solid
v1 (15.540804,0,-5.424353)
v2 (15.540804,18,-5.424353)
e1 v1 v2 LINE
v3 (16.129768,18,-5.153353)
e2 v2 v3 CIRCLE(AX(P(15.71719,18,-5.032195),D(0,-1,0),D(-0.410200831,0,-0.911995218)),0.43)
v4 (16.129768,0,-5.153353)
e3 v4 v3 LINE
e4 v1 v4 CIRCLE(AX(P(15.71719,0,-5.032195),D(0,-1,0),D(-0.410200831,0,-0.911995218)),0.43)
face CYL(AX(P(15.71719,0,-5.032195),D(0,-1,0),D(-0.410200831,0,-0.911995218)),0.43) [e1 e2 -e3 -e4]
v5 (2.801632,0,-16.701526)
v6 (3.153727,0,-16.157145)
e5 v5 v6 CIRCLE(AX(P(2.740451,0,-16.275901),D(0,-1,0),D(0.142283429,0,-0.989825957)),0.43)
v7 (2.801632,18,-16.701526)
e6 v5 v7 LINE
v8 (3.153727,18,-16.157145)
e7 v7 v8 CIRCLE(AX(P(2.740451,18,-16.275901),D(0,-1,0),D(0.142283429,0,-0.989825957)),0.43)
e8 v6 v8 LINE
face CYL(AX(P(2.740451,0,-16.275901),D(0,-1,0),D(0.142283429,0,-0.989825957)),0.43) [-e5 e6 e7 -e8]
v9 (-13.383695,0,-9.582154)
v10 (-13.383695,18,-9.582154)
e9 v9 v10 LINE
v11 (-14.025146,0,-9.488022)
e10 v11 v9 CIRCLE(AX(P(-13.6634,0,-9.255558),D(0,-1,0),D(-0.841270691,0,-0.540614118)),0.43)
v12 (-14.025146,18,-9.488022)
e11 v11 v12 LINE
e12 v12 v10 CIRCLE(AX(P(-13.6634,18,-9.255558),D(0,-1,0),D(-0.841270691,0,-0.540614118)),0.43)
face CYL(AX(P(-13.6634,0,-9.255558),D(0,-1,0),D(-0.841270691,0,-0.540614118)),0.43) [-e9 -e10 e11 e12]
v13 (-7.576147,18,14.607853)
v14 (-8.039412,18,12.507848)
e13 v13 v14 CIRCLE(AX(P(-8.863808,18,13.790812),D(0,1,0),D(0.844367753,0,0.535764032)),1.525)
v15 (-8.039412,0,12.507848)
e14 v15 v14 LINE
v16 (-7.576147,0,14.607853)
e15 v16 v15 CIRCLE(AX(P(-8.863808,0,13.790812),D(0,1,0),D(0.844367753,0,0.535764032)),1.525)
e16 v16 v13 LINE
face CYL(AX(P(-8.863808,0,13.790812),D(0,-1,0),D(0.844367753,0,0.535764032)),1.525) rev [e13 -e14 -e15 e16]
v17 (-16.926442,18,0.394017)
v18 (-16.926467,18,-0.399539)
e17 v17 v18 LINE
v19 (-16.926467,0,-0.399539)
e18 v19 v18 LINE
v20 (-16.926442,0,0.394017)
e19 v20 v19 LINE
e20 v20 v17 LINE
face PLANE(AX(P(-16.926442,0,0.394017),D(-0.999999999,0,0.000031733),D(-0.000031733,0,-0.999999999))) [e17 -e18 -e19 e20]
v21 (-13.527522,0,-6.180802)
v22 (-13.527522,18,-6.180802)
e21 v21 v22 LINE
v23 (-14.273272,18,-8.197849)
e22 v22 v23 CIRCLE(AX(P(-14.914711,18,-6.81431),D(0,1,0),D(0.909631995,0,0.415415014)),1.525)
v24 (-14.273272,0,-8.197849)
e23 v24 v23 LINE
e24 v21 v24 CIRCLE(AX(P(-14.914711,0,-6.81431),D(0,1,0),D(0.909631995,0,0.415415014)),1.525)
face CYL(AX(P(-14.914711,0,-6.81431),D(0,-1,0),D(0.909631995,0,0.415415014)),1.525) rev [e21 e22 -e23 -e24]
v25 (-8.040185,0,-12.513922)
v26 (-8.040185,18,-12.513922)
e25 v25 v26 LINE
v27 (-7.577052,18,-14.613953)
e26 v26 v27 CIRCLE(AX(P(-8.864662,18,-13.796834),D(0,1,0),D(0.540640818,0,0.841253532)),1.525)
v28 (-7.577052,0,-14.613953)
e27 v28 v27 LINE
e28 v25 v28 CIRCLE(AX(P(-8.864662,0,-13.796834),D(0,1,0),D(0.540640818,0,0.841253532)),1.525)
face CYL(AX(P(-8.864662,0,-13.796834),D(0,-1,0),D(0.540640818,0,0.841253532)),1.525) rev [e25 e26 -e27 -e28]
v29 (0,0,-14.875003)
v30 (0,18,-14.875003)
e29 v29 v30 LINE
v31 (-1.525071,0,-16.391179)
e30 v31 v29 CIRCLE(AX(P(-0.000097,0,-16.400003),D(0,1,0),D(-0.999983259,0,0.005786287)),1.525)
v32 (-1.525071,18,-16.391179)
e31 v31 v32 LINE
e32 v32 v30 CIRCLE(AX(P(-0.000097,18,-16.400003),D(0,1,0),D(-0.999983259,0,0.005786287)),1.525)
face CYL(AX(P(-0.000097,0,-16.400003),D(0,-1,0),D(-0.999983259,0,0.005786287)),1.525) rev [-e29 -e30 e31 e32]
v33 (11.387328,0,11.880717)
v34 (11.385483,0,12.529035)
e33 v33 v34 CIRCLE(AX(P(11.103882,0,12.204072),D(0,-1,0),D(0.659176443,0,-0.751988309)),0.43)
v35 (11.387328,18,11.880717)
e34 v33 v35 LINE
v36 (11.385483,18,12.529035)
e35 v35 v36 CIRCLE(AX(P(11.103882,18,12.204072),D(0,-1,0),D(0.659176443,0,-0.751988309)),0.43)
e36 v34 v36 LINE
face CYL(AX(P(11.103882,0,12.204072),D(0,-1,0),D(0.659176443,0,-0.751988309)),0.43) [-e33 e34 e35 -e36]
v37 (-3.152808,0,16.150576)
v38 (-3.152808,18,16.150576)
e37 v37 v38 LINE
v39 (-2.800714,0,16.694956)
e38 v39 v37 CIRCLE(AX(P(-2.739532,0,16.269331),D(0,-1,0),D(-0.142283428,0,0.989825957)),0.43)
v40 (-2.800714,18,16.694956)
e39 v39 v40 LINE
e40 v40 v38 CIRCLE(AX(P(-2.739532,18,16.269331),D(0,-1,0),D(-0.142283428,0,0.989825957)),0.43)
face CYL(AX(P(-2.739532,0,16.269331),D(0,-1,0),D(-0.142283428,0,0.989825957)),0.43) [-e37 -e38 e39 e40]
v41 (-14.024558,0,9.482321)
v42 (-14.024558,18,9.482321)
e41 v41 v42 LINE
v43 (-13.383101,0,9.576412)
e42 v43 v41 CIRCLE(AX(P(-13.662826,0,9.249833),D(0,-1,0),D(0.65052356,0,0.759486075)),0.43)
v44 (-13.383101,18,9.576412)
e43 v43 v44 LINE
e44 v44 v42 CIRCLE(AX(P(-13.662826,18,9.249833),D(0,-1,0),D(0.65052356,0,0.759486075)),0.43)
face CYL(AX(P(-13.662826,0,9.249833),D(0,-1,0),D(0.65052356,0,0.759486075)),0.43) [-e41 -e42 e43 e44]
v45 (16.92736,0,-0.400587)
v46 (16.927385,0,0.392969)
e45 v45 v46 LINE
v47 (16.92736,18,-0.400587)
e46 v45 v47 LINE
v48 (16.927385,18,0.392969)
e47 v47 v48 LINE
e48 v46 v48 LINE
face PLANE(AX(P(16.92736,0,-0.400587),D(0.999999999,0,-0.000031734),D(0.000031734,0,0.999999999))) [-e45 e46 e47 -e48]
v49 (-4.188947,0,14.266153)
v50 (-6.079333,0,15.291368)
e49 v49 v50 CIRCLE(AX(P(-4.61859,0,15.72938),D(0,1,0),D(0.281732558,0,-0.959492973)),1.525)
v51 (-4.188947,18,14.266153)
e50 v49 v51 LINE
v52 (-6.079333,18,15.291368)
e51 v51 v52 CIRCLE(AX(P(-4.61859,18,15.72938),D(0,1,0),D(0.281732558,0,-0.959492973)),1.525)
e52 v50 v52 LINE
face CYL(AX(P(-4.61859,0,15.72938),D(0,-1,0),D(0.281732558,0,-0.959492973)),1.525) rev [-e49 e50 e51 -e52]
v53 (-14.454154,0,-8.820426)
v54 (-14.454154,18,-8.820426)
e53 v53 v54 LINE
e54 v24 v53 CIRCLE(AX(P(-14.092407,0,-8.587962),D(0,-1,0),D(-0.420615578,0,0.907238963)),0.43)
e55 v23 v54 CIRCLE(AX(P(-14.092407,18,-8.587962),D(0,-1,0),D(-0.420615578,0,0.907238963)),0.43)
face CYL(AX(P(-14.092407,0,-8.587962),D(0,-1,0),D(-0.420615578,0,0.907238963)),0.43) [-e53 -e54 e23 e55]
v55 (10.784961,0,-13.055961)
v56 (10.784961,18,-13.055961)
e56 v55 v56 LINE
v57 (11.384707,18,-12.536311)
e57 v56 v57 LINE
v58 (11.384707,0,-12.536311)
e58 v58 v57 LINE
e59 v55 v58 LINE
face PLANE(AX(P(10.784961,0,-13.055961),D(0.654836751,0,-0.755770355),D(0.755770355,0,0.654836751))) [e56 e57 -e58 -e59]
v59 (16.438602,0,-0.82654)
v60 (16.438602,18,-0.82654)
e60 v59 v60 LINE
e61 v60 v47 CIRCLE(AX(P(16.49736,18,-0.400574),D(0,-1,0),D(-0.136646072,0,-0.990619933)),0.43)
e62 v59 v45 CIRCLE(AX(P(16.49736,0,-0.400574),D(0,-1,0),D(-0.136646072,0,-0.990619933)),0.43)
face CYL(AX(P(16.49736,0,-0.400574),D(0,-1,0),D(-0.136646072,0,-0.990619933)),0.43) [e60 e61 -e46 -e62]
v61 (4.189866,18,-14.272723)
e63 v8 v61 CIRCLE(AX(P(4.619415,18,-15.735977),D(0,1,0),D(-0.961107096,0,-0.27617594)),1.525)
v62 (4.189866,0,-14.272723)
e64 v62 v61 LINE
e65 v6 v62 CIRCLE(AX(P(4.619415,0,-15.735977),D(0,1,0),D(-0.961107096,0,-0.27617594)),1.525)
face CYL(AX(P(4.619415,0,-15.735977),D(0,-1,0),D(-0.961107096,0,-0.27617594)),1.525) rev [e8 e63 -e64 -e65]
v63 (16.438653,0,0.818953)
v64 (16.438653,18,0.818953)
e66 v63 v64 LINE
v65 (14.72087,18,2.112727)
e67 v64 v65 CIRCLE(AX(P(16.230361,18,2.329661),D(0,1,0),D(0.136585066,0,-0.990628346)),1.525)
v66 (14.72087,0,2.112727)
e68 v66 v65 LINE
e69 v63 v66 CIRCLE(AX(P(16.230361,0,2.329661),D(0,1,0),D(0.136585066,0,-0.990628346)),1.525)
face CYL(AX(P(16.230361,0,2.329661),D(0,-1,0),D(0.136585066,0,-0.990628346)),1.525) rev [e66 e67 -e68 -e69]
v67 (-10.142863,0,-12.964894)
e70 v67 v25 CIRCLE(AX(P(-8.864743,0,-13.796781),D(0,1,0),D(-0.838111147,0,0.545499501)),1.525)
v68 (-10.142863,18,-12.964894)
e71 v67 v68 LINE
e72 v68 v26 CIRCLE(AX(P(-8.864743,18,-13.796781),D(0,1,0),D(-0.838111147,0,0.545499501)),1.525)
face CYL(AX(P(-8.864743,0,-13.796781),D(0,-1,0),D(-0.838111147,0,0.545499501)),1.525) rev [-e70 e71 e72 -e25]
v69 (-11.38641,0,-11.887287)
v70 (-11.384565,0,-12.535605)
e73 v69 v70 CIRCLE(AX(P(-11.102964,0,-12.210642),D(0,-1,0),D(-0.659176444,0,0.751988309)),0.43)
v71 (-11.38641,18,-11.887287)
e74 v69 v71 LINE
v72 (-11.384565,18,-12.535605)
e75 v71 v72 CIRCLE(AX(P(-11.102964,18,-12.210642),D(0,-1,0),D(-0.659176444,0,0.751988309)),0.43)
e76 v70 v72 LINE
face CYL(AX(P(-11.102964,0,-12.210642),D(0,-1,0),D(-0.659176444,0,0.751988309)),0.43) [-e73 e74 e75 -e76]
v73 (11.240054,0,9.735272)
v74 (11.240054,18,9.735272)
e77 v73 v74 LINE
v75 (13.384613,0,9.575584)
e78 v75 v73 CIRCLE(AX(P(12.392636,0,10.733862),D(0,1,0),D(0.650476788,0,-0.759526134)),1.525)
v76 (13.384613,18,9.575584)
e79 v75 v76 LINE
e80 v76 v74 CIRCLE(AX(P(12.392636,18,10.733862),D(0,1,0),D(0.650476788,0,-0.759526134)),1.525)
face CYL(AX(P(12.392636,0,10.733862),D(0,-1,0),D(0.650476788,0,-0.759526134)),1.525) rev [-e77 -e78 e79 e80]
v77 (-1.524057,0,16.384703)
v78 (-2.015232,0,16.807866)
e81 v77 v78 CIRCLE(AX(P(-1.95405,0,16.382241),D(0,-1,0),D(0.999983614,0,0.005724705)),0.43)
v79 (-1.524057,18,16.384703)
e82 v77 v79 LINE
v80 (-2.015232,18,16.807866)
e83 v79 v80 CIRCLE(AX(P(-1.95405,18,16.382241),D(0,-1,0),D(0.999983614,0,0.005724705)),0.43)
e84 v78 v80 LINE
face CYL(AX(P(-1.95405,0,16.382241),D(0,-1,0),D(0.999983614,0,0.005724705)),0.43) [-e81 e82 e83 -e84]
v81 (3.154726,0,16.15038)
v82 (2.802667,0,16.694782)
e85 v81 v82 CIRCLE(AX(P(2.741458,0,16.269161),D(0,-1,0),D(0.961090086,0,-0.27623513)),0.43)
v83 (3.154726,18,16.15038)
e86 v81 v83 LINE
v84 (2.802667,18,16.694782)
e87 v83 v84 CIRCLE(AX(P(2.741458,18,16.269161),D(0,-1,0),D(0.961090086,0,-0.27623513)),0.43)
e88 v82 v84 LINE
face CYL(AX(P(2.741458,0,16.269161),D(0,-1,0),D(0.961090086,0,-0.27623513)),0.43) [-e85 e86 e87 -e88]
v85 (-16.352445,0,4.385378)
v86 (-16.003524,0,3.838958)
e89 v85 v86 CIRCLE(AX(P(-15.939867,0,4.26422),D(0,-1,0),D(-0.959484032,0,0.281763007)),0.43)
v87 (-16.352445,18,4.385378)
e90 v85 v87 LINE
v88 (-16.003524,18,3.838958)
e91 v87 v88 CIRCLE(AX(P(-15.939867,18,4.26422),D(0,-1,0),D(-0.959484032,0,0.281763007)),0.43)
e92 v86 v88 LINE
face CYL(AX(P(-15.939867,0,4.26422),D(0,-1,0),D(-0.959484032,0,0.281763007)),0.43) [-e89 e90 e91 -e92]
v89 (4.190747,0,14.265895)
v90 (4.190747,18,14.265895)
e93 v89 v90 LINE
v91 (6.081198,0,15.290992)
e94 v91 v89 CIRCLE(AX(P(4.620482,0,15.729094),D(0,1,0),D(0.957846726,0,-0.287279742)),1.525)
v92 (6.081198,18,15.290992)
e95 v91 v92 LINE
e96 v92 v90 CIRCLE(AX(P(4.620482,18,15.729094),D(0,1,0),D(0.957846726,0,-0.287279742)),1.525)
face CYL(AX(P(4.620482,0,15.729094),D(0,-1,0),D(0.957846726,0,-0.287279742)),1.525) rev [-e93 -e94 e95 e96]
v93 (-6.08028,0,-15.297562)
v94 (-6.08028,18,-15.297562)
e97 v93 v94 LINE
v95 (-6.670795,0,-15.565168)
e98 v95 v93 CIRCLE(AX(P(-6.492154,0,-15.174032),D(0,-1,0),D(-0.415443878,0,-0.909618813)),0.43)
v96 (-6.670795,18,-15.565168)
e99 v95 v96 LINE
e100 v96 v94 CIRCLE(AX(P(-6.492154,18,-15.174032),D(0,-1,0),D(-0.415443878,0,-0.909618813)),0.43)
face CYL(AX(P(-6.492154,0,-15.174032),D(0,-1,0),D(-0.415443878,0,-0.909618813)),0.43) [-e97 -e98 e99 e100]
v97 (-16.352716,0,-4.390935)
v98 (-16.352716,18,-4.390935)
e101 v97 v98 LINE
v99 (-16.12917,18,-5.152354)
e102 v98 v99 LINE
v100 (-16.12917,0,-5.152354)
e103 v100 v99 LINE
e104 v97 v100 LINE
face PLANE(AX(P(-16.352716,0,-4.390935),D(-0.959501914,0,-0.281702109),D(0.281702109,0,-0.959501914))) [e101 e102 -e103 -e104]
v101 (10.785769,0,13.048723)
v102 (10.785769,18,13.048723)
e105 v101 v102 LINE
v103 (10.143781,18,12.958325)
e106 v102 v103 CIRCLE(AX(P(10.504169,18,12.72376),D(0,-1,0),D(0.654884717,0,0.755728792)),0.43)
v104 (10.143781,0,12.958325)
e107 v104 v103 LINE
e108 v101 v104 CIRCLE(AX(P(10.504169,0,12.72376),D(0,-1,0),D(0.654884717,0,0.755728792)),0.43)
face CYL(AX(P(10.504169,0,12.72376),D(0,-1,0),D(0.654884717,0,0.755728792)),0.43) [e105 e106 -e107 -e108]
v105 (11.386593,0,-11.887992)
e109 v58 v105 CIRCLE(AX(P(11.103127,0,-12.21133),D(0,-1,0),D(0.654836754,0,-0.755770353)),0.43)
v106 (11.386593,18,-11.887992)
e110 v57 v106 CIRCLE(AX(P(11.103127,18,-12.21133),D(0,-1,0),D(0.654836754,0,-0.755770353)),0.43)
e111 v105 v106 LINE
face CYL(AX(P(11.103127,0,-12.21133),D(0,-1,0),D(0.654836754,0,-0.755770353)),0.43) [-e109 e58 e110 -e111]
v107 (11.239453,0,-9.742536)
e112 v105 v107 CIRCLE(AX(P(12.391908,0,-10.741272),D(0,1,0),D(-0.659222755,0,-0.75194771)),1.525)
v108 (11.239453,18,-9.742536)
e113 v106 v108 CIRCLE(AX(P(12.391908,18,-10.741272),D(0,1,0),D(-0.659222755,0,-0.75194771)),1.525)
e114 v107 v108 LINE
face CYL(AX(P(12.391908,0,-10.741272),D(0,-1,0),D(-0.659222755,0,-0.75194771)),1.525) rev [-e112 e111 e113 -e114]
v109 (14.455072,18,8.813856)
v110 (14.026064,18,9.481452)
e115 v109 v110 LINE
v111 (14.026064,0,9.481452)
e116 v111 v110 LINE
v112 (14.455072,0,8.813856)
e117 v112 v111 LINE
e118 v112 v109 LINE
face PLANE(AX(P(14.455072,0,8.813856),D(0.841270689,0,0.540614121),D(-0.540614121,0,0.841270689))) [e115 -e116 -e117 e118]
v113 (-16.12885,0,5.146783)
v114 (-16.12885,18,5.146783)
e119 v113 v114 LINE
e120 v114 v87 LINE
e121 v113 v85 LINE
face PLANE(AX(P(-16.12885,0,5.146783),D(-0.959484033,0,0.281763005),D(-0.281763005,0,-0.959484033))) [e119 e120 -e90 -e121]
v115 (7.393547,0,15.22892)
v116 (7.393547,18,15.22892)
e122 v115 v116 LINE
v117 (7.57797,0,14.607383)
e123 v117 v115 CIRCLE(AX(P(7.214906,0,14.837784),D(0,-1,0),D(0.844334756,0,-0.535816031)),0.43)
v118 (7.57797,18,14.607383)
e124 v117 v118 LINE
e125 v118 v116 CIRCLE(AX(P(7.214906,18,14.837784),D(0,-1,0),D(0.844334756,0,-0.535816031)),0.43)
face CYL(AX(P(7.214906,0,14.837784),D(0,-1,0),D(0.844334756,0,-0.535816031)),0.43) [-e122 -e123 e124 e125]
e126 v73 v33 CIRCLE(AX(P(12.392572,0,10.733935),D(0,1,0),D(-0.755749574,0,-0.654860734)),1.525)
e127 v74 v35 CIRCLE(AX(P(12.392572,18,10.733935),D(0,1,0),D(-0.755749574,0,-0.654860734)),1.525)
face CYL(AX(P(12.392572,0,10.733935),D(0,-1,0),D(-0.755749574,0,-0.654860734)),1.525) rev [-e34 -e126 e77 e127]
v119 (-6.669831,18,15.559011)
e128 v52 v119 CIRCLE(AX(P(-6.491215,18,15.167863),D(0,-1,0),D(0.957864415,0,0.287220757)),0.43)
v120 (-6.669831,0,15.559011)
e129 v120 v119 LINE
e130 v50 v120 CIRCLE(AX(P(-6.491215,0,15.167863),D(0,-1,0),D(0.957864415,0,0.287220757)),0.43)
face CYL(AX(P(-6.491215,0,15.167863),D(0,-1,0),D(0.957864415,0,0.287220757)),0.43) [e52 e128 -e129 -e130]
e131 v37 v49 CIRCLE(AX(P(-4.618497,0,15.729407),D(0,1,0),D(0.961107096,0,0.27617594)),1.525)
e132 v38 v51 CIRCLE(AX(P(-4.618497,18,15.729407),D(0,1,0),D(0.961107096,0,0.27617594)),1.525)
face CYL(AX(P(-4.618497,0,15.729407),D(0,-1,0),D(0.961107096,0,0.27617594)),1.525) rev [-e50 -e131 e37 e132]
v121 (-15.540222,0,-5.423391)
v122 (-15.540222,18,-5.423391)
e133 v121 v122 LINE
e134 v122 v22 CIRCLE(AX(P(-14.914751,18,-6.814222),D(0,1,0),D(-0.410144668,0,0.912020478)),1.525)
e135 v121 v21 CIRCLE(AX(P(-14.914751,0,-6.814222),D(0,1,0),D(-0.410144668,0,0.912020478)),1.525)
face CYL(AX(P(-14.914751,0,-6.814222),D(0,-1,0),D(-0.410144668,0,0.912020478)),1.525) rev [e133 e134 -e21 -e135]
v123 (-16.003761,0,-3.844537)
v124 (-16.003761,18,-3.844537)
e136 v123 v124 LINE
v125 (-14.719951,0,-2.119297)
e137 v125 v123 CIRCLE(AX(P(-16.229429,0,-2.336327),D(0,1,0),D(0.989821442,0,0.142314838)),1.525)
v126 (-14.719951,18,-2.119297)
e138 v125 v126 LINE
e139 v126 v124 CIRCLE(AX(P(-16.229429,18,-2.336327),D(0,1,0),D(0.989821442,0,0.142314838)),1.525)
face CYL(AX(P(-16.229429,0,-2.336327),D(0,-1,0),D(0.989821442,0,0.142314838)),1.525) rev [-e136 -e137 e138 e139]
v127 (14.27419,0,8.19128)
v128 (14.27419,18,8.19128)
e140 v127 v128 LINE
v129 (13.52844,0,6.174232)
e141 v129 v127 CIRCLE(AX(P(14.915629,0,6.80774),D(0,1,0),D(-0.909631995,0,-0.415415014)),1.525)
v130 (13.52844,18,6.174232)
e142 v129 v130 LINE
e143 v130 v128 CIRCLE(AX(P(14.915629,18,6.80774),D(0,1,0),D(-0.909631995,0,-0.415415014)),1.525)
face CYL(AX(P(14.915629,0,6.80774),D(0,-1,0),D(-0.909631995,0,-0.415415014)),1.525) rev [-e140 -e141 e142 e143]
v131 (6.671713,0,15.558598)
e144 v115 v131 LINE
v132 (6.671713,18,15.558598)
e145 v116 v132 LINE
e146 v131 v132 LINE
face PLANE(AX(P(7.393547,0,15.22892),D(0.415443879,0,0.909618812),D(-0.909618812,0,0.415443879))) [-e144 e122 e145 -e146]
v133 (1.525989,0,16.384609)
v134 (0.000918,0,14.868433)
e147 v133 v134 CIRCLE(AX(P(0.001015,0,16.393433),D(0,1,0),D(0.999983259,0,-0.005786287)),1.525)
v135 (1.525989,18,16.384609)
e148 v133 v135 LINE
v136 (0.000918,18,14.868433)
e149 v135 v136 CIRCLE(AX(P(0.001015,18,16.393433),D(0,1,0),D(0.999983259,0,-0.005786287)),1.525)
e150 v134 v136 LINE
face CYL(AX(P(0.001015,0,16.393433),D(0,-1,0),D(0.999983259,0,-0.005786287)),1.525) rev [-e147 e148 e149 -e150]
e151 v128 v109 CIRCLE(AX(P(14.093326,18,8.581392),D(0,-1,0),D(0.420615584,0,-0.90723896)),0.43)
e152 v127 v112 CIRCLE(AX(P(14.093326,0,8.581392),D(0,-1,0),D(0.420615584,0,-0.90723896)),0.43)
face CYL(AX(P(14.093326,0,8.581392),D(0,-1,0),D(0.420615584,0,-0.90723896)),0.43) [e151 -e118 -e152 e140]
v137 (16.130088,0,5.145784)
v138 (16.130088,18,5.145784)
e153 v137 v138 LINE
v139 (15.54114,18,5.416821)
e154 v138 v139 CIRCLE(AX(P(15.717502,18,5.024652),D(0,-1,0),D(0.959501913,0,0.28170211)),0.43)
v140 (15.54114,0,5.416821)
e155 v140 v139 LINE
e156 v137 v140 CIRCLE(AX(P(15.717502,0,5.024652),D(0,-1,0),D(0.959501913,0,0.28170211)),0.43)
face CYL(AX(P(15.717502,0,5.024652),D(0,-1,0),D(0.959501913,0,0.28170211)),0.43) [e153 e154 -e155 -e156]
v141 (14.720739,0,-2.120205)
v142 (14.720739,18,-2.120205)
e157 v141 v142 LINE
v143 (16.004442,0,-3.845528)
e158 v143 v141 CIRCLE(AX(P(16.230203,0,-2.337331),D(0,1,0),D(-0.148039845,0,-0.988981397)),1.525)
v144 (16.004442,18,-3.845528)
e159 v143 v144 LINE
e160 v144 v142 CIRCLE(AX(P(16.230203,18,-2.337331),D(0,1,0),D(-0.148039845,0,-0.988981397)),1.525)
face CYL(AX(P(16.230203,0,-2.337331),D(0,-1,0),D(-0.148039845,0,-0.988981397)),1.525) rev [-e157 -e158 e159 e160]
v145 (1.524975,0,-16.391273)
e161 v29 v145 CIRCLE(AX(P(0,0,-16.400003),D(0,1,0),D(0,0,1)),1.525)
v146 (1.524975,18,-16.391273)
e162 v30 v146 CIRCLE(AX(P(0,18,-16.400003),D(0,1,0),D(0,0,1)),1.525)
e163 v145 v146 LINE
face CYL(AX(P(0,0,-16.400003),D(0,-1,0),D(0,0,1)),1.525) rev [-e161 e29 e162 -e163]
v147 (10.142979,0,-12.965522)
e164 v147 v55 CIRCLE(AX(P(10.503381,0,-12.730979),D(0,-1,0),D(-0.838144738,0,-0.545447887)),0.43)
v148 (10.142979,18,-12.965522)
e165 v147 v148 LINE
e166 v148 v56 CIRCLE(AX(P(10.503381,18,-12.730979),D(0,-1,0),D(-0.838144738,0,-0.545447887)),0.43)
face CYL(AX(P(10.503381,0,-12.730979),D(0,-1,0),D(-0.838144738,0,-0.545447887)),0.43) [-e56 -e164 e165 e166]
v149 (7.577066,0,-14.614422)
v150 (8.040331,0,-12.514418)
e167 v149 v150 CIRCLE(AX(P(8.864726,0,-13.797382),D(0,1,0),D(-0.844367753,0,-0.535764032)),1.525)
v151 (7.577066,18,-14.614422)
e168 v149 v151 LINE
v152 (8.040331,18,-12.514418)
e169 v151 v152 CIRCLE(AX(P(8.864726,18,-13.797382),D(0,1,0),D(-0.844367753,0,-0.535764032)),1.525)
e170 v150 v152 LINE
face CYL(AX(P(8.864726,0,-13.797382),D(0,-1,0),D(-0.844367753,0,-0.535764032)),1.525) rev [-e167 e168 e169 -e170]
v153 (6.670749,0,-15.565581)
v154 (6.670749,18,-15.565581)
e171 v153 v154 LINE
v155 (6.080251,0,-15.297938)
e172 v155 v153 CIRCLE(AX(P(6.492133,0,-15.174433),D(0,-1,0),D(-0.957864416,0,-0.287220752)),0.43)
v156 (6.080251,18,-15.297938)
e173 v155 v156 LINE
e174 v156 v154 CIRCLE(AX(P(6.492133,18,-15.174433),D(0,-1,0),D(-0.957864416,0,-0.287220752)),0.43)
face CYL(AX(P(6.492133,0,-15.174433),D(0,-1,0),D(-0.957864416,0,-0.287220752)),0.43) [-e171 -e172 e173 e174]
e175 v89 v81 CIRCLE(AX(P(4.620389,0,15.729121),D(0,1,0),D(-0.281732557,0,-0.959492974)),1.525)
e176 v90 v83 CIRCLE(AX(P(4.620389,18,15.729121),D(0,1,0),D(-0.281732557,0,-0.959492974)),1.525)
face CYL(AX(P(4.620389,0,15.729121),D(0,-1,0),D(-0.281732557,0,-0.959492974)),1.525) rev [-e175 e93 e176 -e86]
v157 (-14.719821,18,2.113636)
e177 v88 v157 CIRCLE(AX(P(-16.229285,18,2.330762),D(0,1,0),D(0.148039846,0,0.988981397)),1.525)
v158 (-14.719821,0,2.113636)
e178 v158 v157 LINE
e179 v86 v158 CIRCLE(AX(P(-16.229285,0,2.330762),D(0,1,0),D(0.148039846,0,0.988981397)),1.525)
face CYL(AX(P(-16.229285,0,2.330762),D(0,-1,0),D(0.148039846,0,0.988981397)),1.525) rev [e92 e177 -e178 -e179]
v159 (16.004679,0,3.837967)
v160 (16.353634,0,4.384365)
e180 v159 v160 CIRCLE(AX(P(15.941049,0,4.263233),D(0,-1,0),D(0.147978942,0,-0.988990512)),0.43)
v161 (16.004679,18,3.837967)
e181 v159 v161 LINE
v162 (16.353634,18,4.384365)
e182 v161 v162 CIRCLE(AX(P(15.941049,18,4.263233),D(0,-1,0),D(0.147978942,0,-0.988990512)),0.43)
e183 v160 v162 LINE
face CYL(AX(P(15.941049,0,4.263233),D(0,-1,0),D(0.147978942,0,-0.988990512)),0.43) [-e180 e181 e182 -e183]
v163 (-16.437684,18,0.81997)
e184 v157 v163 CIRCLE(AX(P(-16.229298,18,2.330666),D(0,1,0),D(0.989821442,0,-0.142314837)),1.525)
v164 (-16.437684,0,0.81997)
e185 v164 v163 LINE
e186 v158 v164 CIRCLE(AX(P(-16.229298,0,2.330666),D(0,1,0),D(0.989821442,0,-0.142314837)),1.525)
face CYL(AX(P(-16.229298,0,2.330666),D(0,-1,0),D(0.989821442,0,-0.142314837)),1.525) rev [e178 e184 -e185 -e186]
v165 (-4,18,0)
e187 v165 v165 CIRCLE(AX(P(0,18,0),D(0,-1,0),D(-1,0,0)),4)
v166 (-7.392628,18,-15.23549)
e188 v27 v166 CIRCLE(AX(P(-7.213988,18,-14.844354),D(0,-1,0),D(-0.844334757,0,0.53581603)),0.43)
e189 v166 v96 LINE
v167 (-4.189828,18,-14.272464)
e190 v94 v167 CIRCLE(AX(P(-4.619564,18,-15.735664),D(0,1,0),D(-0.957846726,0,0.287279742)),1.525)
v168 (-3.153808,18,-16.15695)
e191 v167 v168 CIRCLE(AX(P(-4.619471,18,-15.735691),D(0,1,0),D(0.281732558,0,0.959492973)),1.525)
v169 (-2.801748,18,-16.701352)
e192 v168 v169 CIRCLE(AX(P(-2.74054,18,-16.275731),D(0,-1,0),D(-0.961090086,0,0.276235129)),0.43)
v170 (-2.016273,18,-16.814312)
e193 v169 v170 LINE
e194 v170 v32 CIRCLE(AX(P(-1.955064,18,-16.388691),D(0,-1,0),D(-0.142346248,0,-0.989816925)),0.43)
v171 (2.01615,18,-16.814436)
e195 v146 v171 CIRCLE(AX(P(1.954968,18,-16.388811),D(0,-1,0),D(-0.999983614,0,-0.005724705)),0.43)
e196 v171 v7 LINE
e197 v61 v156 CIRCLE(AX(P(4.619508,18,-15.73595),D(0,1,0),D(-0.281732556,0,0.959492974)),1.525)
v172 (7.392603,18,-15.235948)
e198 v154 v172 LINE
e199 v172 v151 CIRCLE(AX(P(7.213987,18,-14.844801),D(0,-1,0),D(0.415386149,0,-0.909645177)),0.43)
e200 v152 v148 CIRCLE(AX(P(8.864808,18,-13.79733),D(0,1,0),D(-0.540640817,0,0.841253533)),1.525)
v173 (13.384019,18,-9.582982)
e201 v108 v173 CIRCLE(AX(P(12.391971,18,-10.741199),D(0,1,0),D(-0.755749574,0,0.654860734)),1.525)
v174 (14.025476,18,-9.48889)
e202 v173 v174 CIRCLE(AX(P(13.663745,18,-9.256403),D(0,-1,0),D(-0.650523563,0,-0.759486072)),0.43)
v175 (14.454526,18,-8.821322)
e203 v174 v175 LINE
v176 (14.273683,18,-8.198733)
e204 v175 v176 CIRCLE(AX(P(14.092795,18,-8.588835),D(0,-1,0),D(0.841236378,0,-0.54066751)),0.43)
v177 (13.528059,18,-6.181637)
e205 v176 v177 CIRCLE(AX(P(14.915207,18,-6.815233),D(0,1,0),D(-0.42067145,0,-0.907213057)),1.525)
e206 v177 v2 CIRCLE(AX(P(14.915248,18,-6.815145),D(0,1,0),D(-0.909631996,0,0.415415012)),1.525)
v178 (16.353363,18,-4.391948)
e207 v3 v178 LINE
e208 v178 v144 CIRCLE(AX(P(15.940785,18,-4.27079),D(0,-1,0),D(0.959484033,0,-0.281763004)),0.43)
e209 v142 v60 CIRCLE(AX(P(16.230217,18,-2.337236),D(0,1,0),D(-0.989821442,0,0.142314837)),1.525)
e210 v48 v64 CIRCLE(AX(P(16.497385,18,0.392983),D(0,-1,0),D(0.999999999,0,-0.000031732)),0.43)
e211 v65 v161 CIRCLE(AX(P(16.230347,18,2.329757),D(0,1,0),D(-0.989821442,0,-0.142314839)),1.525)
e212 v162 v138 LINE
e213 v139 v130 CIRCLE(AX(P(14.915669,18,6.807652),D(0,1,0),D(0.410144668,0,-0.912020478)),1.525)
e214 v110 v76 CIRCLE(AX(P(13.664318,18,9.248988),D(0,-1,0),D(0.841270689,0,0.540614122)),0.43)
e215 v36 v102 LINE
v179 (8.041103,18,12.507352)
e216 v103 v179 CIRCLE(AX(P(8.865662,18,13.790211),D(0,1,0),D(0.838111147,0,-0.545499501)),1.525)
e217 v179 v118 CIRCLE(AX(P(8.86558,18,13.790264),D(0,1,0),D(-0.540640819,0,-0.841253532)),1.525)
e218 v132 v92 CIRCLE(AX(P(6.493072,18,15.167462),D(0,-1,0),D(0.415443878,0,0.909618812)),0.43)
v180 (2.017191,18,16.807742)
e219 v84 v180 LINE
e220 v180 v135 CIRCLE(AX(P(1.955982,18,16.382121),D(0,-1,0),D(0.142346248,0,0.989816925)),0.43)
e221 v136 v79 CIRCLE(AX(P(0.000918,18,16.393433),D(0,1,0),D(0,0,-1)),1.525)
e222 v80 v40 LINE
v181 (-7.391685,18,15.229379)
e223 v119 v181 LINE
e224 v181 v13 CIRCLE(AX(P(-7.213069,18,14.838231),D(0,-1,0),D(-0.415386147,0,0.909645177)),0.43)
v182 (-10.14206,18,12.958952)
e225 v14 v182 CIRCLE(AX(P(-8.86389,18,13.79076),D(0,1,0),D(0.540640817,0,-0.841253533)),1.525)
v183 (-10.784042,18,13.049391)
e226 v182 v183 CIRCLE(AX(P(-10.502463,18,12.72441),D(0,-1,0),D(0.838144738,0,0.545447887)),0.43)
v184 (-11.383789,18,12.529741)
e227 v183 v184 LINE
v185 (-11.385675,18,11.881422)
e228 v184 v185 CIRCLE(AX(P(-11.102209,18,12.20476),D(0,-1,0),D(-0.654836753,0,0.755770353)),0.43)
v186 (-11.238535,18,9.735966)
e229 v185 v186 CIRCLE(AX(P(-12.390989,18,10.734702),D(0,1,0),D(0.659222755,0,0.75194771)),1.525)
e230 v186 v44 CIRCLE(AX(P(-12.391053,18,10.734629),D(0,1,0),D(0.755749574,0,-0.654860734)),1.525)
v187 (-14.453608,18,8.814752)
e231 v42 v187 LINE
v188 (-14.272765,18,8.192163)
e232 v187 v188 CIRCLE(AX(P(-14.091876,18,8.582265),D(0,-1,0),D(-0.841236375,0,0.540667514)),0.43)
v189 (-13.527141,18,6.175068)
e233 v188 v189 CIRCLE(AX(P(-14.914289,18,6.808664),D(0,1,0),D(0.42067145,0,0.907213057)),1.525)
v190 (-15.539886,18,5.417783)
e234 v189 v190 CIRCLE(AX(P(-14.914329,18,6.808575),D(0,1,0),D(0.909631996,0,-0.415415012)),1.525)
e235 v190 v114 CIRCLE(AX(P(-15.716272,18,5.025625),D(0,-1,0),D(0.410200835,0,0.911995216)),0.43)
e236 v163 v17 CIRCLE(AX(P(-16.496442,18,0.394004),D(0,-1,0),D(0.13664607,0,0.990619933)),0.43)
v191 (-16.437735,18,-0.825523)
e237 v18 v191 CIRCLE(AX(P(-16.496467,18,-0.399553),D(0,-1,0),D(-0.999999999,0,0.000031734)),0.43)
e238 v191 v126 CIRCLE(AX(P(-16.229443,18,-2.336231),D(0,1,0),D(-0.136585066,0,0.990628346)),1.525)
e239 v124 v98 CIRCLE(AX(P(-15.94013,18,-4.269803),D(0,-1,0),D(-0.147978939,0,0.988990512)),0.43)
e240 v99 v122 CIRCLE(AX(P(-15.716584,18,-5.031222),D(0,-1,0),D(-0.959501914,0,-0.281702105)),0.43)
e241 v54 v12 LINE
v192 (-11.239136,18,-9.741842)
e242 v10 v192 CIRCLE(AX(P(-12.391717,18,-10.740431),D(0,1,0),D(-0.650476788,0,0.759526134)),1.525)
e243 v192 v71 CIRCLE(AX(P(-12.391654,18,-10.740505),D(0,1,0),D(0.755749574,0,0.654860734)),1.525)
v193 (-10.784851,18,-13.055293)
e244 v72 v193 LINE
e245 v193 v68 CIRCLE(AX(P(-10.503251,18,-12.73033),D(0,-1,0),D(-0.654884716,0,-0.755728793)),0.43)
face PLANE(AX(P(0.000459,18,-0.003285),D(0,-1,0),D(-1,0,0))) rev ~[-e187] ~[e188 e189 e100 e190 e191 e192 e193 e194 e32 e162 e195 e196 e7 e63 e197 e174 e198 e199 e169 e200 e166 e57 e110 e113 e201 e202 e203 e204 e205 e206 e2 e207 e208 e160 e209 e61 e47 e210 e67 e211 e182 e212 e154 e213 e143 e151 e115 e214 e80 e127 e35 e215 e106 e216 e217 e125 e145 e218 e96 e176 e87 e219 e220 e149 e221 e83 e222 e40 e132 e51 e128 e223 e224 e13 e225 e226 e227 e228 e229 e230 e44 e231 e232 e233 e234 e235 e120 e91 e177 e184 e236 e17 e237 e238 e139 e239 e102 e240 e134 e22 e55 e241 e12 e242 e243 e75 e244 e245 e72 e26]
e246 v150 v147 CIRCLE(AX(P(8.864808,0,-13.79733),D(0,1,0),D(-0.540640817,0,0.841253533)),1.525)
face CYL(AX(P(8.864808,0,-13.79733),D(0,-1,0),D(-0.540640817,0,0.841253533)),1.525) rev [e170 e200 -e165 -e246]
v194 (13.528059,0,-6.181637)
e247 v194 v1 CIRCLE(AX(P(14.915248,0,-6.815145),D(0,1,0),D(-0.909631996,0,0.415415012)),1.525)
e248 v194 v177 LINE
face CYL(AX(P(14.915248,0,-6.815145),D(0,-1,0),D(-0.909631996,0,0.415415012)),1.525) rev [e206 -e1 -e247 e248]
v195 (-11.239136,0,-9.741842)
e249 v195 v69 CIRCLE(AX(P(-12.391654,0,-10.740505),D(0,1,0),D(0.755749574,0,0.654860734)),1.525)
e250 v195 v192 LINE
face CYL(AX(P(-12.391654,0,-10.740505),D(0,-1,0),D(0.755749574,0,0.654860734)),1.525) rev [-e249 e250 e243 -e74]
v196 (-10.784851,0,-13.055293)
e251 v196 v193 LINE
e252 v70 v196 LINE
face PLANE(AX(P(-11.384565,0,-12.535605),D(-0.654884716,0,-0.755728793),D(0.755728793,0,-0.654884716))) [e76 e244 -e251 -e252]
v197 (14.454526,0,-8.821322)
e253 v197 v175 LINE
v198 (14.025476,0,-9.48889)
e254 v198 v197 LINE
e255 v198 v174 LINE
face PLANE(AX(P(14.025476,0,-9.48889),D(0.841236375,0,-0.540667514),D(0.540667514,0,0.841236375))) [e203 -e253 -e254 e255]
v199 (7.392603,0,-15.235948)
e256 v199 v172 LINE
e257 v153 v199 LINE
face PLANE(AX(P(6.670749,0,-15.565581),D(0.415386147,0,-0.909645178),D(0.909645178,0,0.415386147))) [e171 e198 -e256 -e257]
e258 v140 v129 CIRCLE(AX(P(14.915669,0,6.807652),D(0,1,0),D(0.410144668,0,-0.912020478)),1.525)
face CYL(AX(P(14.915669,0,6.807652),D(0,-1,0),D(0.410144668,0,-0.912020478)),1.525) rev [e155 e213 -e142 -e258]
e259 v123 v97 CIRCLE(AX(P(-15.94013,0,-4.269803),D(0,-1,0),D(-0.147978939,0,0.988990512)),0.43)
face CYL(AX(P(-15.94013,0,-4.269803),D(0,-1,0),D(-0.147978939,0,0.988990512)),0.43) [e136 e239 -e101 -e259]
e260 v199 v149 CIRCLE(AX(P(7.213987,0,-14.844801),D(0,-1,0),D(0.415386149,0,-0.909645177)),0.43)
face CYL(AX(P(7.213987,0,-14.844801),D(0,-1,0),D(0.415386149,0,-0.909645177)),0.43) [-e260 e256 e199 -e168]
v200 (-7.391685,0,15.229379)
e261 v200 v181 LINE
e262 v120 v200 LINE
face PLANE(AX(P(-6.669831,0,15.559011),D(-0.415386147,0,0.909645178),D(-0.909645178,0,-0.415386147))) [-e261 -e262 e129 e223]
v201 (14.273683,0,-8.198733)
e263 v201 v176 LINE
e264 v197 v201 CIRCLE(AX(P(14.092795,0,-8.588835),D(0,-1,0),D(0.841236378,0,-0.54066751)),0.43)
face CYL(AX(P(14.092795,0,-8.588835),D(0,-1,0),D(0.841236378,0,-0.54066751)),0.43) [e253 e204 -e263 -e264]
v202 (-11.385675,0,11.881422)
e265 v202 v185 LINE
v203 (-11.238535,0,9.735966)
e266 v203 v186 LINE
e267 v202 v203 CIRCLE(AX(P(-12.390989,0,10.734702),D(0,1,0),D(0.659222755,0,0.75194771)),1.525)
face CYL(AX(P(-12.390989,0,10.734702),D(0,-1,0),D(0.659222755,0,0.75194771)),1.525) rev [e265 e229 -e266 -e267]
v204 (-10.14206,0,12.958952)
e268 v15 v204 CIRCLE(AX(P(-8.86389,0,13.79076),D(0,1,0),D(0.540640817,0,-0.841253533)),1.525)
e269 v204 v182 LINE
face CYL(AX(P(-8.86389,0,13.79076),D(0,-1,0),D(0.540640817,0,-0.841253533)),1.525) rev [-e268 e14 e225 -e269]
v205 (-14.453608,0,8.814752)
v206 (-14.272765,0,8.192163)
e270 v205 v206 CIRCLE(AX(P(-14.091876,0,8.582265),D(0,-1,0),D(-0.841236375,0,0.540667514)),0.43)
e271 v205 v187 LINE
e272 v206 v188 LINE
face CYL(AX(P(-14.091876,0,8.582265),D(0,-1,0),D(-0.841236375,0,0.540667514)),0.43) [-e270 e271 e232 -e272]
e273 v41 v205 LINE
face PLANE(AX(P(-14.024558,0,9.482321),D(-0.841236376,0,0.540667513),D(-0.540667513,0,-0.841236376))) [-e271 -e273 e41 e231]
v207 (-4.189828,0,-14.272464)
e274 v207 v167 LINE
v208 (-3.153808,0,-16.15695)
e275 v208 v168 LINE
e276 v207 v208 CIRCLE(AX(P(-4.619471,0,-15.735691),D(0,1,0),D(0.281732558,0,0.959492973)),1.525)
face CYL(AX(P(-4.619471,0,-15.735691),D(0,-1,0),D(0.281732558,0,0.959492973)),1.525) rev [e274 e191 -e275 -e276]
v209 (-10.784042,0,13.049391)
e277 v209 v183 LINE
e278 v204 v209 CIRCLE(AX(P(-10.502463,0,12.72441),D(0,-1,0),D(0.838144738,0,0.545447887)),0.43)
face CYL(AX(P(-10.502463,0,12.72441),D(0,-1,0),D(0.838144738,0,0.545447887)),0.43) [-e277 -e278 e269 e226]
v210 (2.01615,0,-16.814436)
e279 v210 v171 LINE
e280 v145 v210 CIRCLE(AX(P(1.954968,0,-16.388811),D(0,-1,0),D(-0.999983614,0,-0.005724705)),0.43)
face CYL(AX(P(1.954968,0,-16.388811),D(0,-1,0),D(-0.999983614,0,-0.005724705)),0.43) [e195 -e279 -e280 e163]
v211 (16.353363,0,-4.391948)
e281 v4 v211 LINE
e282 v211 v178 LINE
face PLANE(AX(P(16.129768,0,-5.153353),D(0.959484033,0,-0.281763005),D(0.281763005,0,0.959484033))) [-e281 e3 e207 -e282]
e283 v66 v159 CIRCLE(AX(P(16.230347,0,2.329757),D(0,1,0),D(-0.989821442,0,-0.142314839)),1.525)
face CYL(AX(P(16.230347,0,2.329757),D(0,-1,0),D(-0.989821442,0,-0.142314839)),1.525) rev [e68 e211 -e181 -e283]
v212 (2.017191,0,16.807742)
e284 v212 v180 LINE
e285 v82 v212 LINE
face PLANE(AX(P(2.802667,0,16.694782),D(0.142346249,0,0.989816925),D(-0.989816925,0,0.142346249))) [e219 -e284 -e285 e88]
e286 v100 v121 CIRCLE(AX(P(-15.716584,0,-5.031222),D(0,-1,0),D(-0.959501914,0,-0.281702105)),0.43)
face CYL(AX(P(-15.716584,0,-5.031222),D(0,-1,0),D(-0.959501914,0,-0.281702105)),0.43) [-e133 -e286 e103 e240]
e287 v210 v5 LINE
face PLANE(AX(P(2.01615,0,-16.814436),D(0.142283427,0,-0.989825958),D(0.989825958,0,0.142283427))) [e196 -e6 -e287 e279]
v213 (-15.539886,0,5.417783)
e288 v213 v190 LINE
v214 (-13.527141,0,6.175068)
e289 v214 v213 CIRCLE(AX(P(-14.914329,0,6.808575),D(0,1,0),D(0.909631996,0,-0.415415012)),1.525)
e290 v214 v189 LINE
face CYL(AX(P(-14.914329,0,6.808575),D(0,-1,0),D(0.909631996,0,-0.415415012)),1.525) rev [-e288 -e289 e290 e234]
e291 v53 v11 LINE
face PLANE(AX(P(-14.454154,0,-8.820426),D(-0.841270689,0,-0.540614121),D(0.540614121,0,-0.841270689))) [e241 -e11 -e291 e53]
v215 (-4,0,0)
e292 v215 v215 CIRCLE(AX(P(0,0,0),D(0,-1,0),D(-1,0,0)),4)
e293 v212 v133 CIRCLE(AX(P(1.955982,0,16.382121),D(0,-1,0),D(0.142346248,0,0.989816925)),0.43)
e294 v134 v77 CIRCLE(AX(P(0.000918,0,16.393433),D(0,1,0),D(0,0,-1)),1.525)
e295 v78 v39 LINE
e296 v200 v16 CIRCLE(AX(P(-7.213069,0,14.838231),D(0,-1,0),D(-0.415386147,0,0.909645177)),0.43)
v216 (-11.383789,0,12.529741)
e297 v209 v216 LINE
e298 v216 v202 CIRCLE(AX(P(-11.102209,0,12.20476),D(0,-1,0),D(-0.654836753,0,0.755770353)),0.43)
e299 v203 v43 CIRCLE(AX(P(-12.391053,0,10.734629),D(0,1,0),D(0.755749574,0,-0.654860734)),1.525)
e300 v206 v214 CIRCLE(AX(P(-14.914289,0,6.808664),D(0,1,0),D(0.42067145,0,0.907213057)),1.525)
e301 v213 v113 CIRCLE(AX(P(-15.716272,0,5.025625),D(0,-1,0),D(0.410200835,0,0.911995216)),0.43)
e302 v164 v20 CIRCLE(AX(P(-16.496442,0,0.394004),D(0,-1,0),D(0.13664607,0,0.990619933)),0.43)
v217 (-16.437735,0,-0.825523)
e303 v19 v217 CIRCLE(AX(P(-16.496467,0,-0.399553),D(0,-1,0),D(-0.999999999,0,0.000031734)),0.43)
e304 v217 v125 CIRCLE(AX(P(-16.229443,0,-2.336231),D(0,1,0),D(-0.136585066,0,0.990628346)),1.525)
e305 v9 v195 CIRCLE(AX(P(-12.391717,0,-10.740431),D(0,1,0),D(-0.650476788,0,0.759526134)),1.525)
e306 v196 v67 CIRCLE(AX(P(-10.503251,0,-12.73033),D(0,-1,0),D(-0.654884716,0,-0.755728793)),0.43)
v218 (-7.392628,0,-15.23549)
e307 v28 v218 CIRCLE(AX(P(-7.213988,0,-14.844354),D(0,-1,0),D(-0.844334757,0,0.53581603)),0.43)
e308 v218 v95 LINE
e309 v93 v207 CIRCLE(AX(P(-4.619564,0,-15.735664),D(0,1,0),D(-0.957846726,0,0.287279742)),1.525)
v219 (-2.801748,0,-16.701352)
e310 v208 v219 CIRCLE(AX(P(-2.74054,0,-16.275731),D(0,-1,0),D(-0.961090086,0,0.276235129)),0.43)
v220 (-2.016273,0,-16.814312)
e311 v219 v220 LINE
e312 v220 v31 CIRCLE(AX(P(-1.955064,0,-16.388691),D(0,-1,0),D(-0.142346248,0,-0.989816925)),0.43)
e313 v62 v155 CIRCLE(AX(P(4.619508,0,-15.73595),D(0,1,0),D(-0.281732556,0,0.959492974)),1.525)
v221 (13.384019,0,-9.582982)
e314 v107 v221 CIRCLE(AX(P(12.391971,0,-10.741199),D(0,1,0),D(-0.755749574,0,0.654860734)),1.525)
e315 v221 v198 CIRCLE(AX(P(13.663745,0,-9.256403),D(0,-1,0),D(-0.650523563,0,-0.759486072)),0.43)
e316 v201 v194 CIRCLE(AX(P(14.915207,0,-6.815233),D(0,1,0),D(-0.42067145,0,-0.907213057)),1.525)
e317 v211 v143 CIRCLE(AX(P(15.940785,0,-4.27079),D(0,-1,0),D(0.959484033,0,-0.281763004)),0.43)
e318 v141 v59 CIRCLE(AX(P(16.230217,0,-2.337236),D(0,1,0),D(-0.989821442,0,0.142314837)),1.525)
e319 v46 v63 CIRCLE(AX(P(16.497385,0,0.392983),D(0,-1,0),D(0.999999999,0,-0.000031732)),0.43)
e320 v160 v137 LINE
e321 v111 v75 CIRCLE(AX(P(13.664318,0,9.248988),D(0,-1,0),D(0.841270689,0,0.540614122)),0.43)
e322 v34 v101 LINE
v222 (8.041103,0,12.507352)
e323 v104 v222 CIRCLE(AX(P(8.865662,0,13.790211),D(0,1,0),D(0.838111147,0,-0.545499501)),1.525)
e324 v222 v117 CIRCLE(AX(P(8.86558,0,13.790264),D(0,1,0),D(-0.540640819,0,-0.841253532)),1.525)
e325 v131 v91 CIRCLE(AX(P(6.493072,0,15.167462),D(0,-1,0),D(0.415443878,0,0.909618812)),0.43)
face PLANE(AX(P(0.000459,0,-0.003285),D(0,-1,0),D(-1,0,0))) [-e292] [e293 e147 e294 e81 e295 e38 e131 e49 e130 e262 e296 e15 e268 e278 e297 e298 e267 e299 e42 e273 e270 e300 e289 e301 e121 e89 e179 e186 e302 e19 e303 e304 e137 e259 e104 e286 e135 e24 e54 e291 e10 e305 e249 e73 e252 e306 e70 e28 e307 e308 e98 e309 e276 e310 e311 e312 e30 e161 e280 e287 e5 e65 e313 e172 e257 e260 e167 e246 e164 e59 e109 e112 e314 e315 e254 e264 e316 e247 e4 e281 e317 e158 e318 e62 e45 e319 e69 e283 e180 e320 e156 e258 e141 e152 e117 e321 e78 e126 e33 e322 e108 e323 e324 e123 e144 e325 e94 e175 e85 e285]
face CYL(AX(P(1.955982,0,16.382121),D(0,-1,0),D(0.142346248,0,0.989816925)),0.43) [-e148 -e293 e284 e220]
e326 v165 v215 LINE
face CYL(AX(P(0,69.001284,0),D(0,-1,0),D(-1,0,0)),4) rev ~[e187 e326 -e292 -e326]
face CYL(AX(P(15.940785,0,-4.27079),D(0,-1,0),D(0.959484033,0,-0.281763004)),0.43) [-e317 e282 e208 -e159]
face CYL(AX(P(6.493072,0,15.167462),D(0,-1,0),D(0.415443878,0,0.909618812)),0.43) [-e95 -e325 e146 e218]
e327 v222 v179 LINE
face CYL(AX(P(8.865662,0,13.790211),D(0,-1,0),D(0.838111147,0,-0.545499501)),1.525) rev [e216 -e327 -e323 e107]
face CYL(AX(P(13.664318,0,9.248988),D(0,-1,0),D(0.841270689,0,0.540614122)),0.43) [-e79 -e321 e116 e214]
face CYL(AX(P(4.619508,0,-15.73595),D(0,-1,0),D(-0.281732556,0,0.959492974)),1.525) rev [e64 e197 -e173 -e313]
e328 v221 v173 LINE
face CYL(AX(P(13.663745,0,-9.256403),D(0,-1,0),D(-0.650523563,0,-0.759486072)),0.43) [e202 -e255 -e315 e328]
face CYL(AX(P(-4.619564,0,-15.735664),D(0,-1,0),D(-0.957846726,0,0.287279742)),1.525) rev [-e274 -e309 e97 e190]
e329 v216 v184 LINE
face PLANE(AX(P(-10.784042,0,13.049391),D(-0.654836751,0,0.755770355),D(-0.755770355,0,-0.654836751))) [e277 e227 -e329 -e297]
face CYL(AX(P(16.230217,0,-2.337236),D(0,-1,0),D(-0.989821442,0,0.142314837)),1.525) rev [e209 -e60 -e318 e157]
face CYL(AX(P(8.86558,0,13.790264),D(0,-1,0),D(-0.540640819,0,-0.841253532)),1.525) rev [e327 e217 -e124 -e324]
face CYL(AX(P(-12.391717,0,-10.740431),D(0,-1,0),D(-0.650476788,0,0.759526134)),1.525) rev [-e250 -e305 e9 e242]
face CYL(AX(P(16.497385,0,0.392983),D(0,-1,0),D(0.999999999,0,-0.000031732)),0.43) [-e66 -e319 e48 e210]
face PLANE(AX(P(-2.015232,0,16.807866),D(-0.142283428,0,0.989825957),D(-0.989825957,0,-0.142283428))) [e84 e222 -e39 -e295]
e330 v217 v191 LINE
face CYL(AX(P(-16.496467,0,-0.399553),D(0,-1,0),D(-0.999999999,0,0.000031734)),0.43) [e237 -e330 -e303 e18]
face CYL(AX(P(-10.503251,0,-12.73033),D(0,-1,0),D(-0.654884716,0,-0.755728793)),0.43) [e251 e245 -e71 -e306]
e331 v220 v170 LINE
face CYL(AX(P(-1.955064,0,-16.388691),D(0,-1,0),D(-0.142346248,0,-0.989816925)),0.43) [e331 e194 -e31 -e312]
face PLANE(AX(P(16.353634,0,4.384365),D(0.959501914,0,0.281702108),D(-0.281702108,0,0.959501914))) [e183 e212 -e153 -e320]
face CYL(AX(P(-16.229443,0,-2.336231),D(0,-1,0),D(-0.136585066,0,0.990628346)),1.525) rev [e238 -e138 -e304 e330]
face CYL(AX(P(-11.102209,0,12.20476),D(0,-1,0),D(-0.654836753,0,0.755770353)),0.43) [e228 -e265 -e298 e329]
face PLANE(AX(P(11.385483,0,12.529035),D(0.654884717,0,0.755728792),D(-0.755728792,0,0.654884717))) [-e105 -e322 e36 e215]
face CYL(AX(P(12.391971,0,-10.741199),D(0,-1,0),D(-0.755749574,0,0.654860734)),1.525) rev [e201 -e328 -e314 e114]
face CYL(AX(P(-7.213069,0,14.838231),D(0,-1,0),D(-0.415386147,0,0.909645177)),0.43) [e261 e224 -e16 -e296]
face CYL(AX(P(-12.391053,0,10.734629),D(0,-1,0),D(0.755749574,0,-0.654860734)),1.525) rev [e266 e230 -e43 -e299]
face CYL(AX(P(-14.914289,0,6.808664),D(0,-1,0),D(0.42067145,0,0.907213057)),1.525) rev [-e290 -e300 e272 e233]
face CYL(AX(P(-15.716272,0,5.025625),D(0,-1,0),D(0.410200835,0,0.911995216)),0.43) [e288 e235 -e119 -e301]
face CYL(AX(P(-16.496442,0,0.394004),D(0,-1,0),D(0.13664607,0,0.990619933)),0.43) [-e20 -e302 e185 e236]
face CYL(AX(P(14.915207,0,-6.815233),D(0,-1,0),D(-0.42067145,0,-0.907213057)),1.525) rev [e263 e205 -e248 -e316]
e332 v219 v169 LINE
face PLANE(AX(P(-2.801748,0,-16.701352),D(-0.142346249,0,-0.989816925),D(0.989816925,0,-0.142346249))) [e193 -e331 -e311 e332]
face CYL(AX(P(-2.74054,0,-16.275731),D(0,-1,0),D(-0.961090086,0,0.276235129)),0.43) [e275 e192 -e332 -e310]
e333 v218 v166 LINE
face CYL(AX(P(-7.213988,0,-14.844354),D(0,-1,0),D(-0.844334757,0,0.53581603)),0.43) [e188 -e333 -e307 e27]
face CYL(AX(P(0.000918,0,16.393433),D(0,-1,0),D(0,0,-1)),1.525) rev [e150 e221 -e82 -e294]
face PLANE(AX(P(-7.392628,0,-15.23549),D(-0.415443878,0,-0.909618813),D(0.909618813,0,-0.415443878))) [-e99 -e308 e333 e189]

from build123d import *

# Parameters (mm, degrees)
AUFSATZ_LINEAR_AUSTRAGEN1_DEPTH = 18
F_8_0_8_DURCHMESSER_BOHRUNG1_D  = 8


with BuildPart() as part:
    # Skizze1 → Aufsatz-Linear austragen1 (new body)
    with BuildSketch(Plane(origin=(0, 0, 0), x_dir=(1, 0, 0), z_dir=(0, 1, 0))):
        with BuildLine():
            Line((2.016149839, 16.814436139), (2.801632478, 16.701526227))
            ThreePointArc((2.801632478, 16.701526227), (3.101511816, 16.50942794), (3.153726656, 16.157145411))
            ThreePointArc((3.153726656, 16.157145411), (3.283097912, 15.001210678), (4.189865695, 14.272723054))
            ThreePointArc((4.189865695, 14.272723054), (5.346528394, 14.395402891), (6.080251078, 15.297938189))
            ThreePointArc((6.080251078, 15.297938189), (6.314618428, 15.566081904), (6.67074882, 15.565580692))
            Line((6.67074882, 15.565580692), (7.392603495, 15.235948392))
            ThreePointArc((7.392603495, 15.235948392), (7.626215271, 14.967145662), (7.577065585, 14.614422431))
            ThreePointArc((7.577065585, 14.614422431), (7.375531949, 13.468863082), (8.040330584, 12.514418319))
            ThreePointArc((8.040330584, 12.514418319), (9.184703221, 12.306259221), (10.142978558, 12.965521931))
            ThreePointArc((10.142978558, 12.965521931), (10.443397198, 13.156775028), (10.784960599, 13.055960593))
            Line((10.784960599, 13.055960593), (11.384706937, 12.536310754))
            ThreePointArc((11.384706937, 12.536310754), (11.533125314, 12.212580381), (11.386592918, 11.887991985))
            ThreePointArc((11.386592918, 11.887991985), (10.870481446, 10.845614425), (11.239452902, 9.742535963))
            ThreePointArc((11.239452902, 9.742535963), (12.278825211, 9.220401742), (13.384019433, 9.582982318))
            ThreePointArc((13.384019433, 9.582982318), (13.726151231, 9.68185061), (14.025476205, 9.488890337))
            Line((14.025476205, 9.488890337), (14.454526325, 8.821321899))
            ThreePointArc((14.454526325, 8.821321899), (14.505727329, 8.468890591), (14.273683407, 8.198733253))
            ThreePointArc((14.273683407, 8.198733253), (13.48480638, 7.343984713), (13.528058784, 6.181637408))
            ThreePointArc((13.528058784, 6.181637408), (14.378227002, 5.387828273), (15.540803845, 5.424352595))
            ThreePointArc((15.540803845, 5.424352595), (15.896931319, 5.422826359), (16.129768337, 5.153352743))
            Line((16.129768337, 5.153352743), (16.353363149, 4.39194813))
            ThreePointArc((16.353363149, 4.39194813), (16.30319878, 4.039367777), (16.004442149, 3.845528037))
            ThreePointArc((16.004442149, 3.845528037), (15.006709693, 3.247655161), (14.720738993, 2.120205477))
            ThreePointArc((14.720738993, 2.120205477), (15.312827547, 1.119031124), (16.43860195, 0.826540208))
            ThreePointArc((16.43860195, 0.826540208), (16.779873768, 0.724743092), (16.92735976, 0.400587283))
            Line((16.92735976, 0.400587283), (16.927384943, -0.392969032))
            ThreePointArc((16.927384943, -0.392969032), (16.779919219, -0.717134467), (16.438653365, -0.818952866))
            ThreePointArc((16.438653365, -0.818952866), (15.31289583, -1.111513974), (14.72086967, -2.112726767))
            ThreePointArc((14.72086967, -2.112726767), (15.006911068, -3.240157147), (16.004679484, -3.837967426))
            ThreePointArc((16.004679484, -3.837967426), (16.303447834, -4.031788426), (16.353634362, -4.384365253))
            Line((16.353634362, -4.384365253), (16.130087875, -5.145784056))
            ThreePointArc((16.130087875, -5.145784056), (15.897267592, -5.415272618), (15.541139845, -5.416820955))
            ThreePointArc((15.541139845, -5.416820955), (14.378559411, -5.380368734), (13.528440231, -6.17423233))
            ThreePointArc((13.528440231, -6.17423233), (13.485261098, -7.336581031), (14.274190264, -8.191279641))
            ThreePointArc((14.274190264, -8.191279641), (14.50625071, -8.4614223), (14.455071961, -8.813856467))
            Line((14.455071961, -8.813856467), (14.026064211, -9.481452135))
            ThreePointArc((14.026064211, -9.481452135), (13.726751084, -9.674431463), (13.384612796, -9.5755843))
            ThreePointArc((13.384612796, -9.5755843), (12.279394816, -9.213071892), (11.240054215, -9.735272184))
            ThreePointArc((11.240054215, -9.735272184), (10.871152669, -10.838372629), (11.387328235, -11.880716971))
            ThreePointArc((11.387328235, -11.880716971), (11.533880622, -12.205295936), (11.385482792, -12.529035323))
            Line((11.385482792, -12.529035323), (10.785769436, -13.048723226))
            ThreePointArc((10.785769436, -13.048723226), (10.444212034, -13.149559283), (10.143781215, -12.95832463))
            ThreePointArc((10.143781215, -12.95832463), (9.185463876, -12.299120634), (8.041103048, -12.50735206))
            ThreePointArc((8.041103048, -12.50735206), (7.376365299, -13.461837611), (7.577969791, -14.607383145))
            ThreePointArc((7.577969791, -14.607383145), (7.627141314, -14.96010296), (7.393546714, -15.228920127))
            Line((7.393546714, -15.228920127), (6.671712961, -15.558598241))
            ThreePointArc((6.671712961, -15.558598241), (6.315582234, -15.559121889), (6.081198001, -15.29099244))
            ThreePointArc((6.081198001, -15.29099244), (5.347418475, -14.388501644), (4.19074673, -14.265894532))
            ThreePointArc((4.19074673, -14.265894532), (3.284025875, -14.994438446), (3.154726497, -16.150379885))
            ThreePointArc((3.154726497, -16.150379885), (3.102533573, -16.502665289), (2.802666647, -16.694782268))
            Line((2.802666647, -16.694782268), (2.017191175, -16.807742033))
            ThreePointArc((2.017191175, -16.807742033), (1.675338716, -16.707910849), (1.525989487, -16.384608858))
            ThreePointArc((1.525989487, -16.384608858), (1.076194227, -15.311945698), (0.00091823, -14.868432948))
            ThreePointArc((0.00091823, -14.868432948), (-1.074328599, -15.312012929), (-1.524056781, -16.384702774))
            ThreePointArc((-1.524056781, -16.384702774), (-1.673385793, -16.708013697), (-2.015231609, -16.807866313))
            Line((-2.015231609, -16.807866313), (-2.800714248, -16.6949564))
            ThreePointArc((-2.800714248, -16.6949564), (-3.100593586, -16.502858113), (-3.152808426, -16.150575585))
            ThreePointArc((-3.152808426, -16.150575585), (-3.282179682, -14.994640851), (-4.188947465, -14.266153228))
            ThreePointArc((-4.188947465, -14.266153228), (-5.345610164, -14.388833064), (-6.079332848, -15.291368363))
            ThreePointArc((-6.079332848, -15.291368363), (-6.313700199, -15.559512077), (-6.66983059, -15.559010865))
            Line((-6.66983059, -15.559010865), (-7.391685265, -15.229378565))
            ThreePointArc((-7.391685265, -15.229378565), (-7.625297041, -14.960575836), (-7.576147355, -14.607852605))
            ThreePointArc((-7.576147355, -14.607852605), (-7.374613719, -13.462293255), (-8.039412354, -12.507848493))
            ThreePointArc((-8.039412354, -12.507848493), (-9.183784991, -12.299689395), (-10.142060328, -12.958952104))
            ThreePointArc((-10.142060328, -12.958952104), (-10.442478968, -13.150205201), (-10.784042369, -13.049390766))
            Line((-10.784042369, -13.049390766), (-11.383788707, -12.529740927))
            ThreePointArc((-11.383788707, -12.529740927), (-11.532207084, -12.206010554), (-11.385674688, -11.881422159))
            ThreePointArc((-11.385674688, -11.881422159), (-10.869563216, -10.839044599), (-11.238534672, -9.735966136))
            ThreePointArc((-11.238534672, -9.735966136), (-12.277906981, -9.213831915), (-13.383101203, -9.576412492))
            ThreePointArc((-13.383101203, -9.576412492), (-13.725233001, -9.675280783), (-14.024557975, -9.482320511))
            Line((-14.024557975, -9.482320511), (-14.453608095, -8.814752072))
            ThreePointArc((-14.453608095, -8.814752072), (-14.5048091, -8.462320765), (-14.272765177, -8.192163427))
            ThreePointArc((-14.272765177, -8.192163427), (-13.48388815, -7.337414887), (-13.527140554, -6.175067581))
            ThreePointArc((-13.527140554, -6.175067581), (-14.377308772, -5.381258446), (-15.539885615, -5.417782768))
            ThreePointArc((-15.539885615, -5.417782768), (-15.896013089, -5.416256533), (-16.128850107, -5.146782917))
            Line((-16.128850107, -5.146782917), (-16.352444919, -4.385378304))
            ThreePointArc((-16.352444919, -4.385378304), (-16.30228055, -4.03279795), (-16.003523919, -3.838958211))
            ThreePointArc((-16.003523919, -3.838958211), (-15.005791463, -3.241085334), (-14.719820763, -2.113635651))
            ThreePointArc((-14.719820763, -2.113635651), (-15.311909317, -1.112461298), (-16.43768372, -0.819970382))
            ThreePointArc((-16.43768372, -0.819970382), (-16.778955538, -0.718173266), (-16.926441531, -0.394017456))
            Line((-16.926441531, -0.394017456), (-16.926466713, 0.399538858))
            ThreePointArc((-16.926466713, 0.399538858), (-16.779000989, 0.723704294), (-16.437735135, 0.825522693))
            ThreePointArc((-16.437735135, 0.825522693), (-15.3119776, 1.118083801), (-14.71995144, 2.119296594))
            ThreePointArc((-14.71995144, 2.119296594), (-15.005992838, 3.246726973), (-16.003761254, 3.844537253))
            ThreePointArc((-16.003761254, 3.844537253), (-16.302529604, 4.038358252), (-16.352716132, 4.39093508))
            Line((-16.352716132, 4.39093508), (-16.129169645, 5.152353882))
            ThreePointArc((-16.129169645, 5.152353882), (-15.896349362, 5.421842445), (-15.540221615, 5.423390781))
            ThreePointArc((-15.540221615, 5.423390781), (-14.377641181, 5.38693856), (-13.527522001, 6.180802156))
            ThreePointArc((-13.527522001, 6.180802156), (-13.484342868, 7.343150858), (-14.273272034, 8.197849468))
            ThreePointArc((-14.273272034, 8.197849468), (-14.505332481, 8.467992126), (-14.454153731, 8.820426293))
            Line((-14.454153731, 8.820426293), (-14.025145981, 9.488021961))
            ThreePointArc((-14.025145981, 9.488021961), (-13.725832854, 9.68100129), (-13.383694566, 9.582154127))
            ThreePointArc((-13.383694566, 9.582154127), (-12.278476586, 9.219641719), (-11.239135985, 9.741842011))
            ThreePointArc((-11.239135985, 9.741842011), (-10.870234439, 10.844942456), (-11.386410005, 11.887286797))
            ThreePointArc((-11.386410005, 11.887286797), (-11.532962392, 12.211865763), (-11.384564562, 12.53560515))
            Line((-11.384564562, 12.53560515), (-10.784851206, 13.055293052))
            ThreePointArc((-10.784851206, 13.055293052), (-10.443293804, 13.156129109), (-10.142862985, 12.964894457))
            ThreePointArc((-10.142862985, 12.964894457), (-9.184545646, 12.305690461), (-8.040184818, 12.513921887))
            ThreePointArc((-8.040184818, 12.513921887), (-7.375447069, 13.468407437), (-7.577051561, 14.613952971))
            ThreePointArc((-7.577051561, 14.613952971), (-7.626223084, 14.966672786), (-7.392628484, 15.235489954))
            Line((-7.392628484, 15.235489954), (-6.670794731, 15.565168067))
            ThreePointArc((-6.670794731, 15.565168067), (-6.314664004, 15.565691715), (-6.080279771, 15.297562267))
            ThreePointArc((-6.080279771, 15.297562267), (-5.346500245, 14.395071471), (-4.1898285, 14.272464359))
            ThreePointArc((-4.1898285, 14.272464359), (-3.283107646, 15.001008272), (-3.153808267, 16.156949712))
            ThreePointArc((-3.153808267, 16.156949712), (-3.101615343, 16.509235115), (-2.801748417, 16.701352094))
            Line((-2.801748417, 16.701352094), (-2.016272945, 16.814311859))
            ThreePointArc((-2.016272945, 16.814311859), (-1.674420486, 16.714480675), (-1.525071257, 16.391178685))
            ThreePointArc((-1.525071257, 16.391178685), (-1.075275997, 15.318515525), (0, 14.875002774))
            ThreePointArc((0, 14.875002774), (1.075246829, 15.318582755), (1.524975011, 16.3912726))
            ThreePointArc((1.524975011, 16.3912726), (1.674304023, 16.714583523), (2.016149839, 16.814436139))
        make_face()
    extrude(amount=AUFSATZ_LINEAR_AUSTRAGEN1_DEPTH)

    # Ø8.0 (8) Durchmesser Bohrung1 (through all)
    with Locations(Plane(origin=(0, 18, 0), x_dir=(1, 0, 0), z_dir=(0, 1, 0))):
        with Locations((0, 0)):
            Hole(F_8_0_8_DURCHMESSER_BOHRUNG1_D / 2)


solid = part.part
